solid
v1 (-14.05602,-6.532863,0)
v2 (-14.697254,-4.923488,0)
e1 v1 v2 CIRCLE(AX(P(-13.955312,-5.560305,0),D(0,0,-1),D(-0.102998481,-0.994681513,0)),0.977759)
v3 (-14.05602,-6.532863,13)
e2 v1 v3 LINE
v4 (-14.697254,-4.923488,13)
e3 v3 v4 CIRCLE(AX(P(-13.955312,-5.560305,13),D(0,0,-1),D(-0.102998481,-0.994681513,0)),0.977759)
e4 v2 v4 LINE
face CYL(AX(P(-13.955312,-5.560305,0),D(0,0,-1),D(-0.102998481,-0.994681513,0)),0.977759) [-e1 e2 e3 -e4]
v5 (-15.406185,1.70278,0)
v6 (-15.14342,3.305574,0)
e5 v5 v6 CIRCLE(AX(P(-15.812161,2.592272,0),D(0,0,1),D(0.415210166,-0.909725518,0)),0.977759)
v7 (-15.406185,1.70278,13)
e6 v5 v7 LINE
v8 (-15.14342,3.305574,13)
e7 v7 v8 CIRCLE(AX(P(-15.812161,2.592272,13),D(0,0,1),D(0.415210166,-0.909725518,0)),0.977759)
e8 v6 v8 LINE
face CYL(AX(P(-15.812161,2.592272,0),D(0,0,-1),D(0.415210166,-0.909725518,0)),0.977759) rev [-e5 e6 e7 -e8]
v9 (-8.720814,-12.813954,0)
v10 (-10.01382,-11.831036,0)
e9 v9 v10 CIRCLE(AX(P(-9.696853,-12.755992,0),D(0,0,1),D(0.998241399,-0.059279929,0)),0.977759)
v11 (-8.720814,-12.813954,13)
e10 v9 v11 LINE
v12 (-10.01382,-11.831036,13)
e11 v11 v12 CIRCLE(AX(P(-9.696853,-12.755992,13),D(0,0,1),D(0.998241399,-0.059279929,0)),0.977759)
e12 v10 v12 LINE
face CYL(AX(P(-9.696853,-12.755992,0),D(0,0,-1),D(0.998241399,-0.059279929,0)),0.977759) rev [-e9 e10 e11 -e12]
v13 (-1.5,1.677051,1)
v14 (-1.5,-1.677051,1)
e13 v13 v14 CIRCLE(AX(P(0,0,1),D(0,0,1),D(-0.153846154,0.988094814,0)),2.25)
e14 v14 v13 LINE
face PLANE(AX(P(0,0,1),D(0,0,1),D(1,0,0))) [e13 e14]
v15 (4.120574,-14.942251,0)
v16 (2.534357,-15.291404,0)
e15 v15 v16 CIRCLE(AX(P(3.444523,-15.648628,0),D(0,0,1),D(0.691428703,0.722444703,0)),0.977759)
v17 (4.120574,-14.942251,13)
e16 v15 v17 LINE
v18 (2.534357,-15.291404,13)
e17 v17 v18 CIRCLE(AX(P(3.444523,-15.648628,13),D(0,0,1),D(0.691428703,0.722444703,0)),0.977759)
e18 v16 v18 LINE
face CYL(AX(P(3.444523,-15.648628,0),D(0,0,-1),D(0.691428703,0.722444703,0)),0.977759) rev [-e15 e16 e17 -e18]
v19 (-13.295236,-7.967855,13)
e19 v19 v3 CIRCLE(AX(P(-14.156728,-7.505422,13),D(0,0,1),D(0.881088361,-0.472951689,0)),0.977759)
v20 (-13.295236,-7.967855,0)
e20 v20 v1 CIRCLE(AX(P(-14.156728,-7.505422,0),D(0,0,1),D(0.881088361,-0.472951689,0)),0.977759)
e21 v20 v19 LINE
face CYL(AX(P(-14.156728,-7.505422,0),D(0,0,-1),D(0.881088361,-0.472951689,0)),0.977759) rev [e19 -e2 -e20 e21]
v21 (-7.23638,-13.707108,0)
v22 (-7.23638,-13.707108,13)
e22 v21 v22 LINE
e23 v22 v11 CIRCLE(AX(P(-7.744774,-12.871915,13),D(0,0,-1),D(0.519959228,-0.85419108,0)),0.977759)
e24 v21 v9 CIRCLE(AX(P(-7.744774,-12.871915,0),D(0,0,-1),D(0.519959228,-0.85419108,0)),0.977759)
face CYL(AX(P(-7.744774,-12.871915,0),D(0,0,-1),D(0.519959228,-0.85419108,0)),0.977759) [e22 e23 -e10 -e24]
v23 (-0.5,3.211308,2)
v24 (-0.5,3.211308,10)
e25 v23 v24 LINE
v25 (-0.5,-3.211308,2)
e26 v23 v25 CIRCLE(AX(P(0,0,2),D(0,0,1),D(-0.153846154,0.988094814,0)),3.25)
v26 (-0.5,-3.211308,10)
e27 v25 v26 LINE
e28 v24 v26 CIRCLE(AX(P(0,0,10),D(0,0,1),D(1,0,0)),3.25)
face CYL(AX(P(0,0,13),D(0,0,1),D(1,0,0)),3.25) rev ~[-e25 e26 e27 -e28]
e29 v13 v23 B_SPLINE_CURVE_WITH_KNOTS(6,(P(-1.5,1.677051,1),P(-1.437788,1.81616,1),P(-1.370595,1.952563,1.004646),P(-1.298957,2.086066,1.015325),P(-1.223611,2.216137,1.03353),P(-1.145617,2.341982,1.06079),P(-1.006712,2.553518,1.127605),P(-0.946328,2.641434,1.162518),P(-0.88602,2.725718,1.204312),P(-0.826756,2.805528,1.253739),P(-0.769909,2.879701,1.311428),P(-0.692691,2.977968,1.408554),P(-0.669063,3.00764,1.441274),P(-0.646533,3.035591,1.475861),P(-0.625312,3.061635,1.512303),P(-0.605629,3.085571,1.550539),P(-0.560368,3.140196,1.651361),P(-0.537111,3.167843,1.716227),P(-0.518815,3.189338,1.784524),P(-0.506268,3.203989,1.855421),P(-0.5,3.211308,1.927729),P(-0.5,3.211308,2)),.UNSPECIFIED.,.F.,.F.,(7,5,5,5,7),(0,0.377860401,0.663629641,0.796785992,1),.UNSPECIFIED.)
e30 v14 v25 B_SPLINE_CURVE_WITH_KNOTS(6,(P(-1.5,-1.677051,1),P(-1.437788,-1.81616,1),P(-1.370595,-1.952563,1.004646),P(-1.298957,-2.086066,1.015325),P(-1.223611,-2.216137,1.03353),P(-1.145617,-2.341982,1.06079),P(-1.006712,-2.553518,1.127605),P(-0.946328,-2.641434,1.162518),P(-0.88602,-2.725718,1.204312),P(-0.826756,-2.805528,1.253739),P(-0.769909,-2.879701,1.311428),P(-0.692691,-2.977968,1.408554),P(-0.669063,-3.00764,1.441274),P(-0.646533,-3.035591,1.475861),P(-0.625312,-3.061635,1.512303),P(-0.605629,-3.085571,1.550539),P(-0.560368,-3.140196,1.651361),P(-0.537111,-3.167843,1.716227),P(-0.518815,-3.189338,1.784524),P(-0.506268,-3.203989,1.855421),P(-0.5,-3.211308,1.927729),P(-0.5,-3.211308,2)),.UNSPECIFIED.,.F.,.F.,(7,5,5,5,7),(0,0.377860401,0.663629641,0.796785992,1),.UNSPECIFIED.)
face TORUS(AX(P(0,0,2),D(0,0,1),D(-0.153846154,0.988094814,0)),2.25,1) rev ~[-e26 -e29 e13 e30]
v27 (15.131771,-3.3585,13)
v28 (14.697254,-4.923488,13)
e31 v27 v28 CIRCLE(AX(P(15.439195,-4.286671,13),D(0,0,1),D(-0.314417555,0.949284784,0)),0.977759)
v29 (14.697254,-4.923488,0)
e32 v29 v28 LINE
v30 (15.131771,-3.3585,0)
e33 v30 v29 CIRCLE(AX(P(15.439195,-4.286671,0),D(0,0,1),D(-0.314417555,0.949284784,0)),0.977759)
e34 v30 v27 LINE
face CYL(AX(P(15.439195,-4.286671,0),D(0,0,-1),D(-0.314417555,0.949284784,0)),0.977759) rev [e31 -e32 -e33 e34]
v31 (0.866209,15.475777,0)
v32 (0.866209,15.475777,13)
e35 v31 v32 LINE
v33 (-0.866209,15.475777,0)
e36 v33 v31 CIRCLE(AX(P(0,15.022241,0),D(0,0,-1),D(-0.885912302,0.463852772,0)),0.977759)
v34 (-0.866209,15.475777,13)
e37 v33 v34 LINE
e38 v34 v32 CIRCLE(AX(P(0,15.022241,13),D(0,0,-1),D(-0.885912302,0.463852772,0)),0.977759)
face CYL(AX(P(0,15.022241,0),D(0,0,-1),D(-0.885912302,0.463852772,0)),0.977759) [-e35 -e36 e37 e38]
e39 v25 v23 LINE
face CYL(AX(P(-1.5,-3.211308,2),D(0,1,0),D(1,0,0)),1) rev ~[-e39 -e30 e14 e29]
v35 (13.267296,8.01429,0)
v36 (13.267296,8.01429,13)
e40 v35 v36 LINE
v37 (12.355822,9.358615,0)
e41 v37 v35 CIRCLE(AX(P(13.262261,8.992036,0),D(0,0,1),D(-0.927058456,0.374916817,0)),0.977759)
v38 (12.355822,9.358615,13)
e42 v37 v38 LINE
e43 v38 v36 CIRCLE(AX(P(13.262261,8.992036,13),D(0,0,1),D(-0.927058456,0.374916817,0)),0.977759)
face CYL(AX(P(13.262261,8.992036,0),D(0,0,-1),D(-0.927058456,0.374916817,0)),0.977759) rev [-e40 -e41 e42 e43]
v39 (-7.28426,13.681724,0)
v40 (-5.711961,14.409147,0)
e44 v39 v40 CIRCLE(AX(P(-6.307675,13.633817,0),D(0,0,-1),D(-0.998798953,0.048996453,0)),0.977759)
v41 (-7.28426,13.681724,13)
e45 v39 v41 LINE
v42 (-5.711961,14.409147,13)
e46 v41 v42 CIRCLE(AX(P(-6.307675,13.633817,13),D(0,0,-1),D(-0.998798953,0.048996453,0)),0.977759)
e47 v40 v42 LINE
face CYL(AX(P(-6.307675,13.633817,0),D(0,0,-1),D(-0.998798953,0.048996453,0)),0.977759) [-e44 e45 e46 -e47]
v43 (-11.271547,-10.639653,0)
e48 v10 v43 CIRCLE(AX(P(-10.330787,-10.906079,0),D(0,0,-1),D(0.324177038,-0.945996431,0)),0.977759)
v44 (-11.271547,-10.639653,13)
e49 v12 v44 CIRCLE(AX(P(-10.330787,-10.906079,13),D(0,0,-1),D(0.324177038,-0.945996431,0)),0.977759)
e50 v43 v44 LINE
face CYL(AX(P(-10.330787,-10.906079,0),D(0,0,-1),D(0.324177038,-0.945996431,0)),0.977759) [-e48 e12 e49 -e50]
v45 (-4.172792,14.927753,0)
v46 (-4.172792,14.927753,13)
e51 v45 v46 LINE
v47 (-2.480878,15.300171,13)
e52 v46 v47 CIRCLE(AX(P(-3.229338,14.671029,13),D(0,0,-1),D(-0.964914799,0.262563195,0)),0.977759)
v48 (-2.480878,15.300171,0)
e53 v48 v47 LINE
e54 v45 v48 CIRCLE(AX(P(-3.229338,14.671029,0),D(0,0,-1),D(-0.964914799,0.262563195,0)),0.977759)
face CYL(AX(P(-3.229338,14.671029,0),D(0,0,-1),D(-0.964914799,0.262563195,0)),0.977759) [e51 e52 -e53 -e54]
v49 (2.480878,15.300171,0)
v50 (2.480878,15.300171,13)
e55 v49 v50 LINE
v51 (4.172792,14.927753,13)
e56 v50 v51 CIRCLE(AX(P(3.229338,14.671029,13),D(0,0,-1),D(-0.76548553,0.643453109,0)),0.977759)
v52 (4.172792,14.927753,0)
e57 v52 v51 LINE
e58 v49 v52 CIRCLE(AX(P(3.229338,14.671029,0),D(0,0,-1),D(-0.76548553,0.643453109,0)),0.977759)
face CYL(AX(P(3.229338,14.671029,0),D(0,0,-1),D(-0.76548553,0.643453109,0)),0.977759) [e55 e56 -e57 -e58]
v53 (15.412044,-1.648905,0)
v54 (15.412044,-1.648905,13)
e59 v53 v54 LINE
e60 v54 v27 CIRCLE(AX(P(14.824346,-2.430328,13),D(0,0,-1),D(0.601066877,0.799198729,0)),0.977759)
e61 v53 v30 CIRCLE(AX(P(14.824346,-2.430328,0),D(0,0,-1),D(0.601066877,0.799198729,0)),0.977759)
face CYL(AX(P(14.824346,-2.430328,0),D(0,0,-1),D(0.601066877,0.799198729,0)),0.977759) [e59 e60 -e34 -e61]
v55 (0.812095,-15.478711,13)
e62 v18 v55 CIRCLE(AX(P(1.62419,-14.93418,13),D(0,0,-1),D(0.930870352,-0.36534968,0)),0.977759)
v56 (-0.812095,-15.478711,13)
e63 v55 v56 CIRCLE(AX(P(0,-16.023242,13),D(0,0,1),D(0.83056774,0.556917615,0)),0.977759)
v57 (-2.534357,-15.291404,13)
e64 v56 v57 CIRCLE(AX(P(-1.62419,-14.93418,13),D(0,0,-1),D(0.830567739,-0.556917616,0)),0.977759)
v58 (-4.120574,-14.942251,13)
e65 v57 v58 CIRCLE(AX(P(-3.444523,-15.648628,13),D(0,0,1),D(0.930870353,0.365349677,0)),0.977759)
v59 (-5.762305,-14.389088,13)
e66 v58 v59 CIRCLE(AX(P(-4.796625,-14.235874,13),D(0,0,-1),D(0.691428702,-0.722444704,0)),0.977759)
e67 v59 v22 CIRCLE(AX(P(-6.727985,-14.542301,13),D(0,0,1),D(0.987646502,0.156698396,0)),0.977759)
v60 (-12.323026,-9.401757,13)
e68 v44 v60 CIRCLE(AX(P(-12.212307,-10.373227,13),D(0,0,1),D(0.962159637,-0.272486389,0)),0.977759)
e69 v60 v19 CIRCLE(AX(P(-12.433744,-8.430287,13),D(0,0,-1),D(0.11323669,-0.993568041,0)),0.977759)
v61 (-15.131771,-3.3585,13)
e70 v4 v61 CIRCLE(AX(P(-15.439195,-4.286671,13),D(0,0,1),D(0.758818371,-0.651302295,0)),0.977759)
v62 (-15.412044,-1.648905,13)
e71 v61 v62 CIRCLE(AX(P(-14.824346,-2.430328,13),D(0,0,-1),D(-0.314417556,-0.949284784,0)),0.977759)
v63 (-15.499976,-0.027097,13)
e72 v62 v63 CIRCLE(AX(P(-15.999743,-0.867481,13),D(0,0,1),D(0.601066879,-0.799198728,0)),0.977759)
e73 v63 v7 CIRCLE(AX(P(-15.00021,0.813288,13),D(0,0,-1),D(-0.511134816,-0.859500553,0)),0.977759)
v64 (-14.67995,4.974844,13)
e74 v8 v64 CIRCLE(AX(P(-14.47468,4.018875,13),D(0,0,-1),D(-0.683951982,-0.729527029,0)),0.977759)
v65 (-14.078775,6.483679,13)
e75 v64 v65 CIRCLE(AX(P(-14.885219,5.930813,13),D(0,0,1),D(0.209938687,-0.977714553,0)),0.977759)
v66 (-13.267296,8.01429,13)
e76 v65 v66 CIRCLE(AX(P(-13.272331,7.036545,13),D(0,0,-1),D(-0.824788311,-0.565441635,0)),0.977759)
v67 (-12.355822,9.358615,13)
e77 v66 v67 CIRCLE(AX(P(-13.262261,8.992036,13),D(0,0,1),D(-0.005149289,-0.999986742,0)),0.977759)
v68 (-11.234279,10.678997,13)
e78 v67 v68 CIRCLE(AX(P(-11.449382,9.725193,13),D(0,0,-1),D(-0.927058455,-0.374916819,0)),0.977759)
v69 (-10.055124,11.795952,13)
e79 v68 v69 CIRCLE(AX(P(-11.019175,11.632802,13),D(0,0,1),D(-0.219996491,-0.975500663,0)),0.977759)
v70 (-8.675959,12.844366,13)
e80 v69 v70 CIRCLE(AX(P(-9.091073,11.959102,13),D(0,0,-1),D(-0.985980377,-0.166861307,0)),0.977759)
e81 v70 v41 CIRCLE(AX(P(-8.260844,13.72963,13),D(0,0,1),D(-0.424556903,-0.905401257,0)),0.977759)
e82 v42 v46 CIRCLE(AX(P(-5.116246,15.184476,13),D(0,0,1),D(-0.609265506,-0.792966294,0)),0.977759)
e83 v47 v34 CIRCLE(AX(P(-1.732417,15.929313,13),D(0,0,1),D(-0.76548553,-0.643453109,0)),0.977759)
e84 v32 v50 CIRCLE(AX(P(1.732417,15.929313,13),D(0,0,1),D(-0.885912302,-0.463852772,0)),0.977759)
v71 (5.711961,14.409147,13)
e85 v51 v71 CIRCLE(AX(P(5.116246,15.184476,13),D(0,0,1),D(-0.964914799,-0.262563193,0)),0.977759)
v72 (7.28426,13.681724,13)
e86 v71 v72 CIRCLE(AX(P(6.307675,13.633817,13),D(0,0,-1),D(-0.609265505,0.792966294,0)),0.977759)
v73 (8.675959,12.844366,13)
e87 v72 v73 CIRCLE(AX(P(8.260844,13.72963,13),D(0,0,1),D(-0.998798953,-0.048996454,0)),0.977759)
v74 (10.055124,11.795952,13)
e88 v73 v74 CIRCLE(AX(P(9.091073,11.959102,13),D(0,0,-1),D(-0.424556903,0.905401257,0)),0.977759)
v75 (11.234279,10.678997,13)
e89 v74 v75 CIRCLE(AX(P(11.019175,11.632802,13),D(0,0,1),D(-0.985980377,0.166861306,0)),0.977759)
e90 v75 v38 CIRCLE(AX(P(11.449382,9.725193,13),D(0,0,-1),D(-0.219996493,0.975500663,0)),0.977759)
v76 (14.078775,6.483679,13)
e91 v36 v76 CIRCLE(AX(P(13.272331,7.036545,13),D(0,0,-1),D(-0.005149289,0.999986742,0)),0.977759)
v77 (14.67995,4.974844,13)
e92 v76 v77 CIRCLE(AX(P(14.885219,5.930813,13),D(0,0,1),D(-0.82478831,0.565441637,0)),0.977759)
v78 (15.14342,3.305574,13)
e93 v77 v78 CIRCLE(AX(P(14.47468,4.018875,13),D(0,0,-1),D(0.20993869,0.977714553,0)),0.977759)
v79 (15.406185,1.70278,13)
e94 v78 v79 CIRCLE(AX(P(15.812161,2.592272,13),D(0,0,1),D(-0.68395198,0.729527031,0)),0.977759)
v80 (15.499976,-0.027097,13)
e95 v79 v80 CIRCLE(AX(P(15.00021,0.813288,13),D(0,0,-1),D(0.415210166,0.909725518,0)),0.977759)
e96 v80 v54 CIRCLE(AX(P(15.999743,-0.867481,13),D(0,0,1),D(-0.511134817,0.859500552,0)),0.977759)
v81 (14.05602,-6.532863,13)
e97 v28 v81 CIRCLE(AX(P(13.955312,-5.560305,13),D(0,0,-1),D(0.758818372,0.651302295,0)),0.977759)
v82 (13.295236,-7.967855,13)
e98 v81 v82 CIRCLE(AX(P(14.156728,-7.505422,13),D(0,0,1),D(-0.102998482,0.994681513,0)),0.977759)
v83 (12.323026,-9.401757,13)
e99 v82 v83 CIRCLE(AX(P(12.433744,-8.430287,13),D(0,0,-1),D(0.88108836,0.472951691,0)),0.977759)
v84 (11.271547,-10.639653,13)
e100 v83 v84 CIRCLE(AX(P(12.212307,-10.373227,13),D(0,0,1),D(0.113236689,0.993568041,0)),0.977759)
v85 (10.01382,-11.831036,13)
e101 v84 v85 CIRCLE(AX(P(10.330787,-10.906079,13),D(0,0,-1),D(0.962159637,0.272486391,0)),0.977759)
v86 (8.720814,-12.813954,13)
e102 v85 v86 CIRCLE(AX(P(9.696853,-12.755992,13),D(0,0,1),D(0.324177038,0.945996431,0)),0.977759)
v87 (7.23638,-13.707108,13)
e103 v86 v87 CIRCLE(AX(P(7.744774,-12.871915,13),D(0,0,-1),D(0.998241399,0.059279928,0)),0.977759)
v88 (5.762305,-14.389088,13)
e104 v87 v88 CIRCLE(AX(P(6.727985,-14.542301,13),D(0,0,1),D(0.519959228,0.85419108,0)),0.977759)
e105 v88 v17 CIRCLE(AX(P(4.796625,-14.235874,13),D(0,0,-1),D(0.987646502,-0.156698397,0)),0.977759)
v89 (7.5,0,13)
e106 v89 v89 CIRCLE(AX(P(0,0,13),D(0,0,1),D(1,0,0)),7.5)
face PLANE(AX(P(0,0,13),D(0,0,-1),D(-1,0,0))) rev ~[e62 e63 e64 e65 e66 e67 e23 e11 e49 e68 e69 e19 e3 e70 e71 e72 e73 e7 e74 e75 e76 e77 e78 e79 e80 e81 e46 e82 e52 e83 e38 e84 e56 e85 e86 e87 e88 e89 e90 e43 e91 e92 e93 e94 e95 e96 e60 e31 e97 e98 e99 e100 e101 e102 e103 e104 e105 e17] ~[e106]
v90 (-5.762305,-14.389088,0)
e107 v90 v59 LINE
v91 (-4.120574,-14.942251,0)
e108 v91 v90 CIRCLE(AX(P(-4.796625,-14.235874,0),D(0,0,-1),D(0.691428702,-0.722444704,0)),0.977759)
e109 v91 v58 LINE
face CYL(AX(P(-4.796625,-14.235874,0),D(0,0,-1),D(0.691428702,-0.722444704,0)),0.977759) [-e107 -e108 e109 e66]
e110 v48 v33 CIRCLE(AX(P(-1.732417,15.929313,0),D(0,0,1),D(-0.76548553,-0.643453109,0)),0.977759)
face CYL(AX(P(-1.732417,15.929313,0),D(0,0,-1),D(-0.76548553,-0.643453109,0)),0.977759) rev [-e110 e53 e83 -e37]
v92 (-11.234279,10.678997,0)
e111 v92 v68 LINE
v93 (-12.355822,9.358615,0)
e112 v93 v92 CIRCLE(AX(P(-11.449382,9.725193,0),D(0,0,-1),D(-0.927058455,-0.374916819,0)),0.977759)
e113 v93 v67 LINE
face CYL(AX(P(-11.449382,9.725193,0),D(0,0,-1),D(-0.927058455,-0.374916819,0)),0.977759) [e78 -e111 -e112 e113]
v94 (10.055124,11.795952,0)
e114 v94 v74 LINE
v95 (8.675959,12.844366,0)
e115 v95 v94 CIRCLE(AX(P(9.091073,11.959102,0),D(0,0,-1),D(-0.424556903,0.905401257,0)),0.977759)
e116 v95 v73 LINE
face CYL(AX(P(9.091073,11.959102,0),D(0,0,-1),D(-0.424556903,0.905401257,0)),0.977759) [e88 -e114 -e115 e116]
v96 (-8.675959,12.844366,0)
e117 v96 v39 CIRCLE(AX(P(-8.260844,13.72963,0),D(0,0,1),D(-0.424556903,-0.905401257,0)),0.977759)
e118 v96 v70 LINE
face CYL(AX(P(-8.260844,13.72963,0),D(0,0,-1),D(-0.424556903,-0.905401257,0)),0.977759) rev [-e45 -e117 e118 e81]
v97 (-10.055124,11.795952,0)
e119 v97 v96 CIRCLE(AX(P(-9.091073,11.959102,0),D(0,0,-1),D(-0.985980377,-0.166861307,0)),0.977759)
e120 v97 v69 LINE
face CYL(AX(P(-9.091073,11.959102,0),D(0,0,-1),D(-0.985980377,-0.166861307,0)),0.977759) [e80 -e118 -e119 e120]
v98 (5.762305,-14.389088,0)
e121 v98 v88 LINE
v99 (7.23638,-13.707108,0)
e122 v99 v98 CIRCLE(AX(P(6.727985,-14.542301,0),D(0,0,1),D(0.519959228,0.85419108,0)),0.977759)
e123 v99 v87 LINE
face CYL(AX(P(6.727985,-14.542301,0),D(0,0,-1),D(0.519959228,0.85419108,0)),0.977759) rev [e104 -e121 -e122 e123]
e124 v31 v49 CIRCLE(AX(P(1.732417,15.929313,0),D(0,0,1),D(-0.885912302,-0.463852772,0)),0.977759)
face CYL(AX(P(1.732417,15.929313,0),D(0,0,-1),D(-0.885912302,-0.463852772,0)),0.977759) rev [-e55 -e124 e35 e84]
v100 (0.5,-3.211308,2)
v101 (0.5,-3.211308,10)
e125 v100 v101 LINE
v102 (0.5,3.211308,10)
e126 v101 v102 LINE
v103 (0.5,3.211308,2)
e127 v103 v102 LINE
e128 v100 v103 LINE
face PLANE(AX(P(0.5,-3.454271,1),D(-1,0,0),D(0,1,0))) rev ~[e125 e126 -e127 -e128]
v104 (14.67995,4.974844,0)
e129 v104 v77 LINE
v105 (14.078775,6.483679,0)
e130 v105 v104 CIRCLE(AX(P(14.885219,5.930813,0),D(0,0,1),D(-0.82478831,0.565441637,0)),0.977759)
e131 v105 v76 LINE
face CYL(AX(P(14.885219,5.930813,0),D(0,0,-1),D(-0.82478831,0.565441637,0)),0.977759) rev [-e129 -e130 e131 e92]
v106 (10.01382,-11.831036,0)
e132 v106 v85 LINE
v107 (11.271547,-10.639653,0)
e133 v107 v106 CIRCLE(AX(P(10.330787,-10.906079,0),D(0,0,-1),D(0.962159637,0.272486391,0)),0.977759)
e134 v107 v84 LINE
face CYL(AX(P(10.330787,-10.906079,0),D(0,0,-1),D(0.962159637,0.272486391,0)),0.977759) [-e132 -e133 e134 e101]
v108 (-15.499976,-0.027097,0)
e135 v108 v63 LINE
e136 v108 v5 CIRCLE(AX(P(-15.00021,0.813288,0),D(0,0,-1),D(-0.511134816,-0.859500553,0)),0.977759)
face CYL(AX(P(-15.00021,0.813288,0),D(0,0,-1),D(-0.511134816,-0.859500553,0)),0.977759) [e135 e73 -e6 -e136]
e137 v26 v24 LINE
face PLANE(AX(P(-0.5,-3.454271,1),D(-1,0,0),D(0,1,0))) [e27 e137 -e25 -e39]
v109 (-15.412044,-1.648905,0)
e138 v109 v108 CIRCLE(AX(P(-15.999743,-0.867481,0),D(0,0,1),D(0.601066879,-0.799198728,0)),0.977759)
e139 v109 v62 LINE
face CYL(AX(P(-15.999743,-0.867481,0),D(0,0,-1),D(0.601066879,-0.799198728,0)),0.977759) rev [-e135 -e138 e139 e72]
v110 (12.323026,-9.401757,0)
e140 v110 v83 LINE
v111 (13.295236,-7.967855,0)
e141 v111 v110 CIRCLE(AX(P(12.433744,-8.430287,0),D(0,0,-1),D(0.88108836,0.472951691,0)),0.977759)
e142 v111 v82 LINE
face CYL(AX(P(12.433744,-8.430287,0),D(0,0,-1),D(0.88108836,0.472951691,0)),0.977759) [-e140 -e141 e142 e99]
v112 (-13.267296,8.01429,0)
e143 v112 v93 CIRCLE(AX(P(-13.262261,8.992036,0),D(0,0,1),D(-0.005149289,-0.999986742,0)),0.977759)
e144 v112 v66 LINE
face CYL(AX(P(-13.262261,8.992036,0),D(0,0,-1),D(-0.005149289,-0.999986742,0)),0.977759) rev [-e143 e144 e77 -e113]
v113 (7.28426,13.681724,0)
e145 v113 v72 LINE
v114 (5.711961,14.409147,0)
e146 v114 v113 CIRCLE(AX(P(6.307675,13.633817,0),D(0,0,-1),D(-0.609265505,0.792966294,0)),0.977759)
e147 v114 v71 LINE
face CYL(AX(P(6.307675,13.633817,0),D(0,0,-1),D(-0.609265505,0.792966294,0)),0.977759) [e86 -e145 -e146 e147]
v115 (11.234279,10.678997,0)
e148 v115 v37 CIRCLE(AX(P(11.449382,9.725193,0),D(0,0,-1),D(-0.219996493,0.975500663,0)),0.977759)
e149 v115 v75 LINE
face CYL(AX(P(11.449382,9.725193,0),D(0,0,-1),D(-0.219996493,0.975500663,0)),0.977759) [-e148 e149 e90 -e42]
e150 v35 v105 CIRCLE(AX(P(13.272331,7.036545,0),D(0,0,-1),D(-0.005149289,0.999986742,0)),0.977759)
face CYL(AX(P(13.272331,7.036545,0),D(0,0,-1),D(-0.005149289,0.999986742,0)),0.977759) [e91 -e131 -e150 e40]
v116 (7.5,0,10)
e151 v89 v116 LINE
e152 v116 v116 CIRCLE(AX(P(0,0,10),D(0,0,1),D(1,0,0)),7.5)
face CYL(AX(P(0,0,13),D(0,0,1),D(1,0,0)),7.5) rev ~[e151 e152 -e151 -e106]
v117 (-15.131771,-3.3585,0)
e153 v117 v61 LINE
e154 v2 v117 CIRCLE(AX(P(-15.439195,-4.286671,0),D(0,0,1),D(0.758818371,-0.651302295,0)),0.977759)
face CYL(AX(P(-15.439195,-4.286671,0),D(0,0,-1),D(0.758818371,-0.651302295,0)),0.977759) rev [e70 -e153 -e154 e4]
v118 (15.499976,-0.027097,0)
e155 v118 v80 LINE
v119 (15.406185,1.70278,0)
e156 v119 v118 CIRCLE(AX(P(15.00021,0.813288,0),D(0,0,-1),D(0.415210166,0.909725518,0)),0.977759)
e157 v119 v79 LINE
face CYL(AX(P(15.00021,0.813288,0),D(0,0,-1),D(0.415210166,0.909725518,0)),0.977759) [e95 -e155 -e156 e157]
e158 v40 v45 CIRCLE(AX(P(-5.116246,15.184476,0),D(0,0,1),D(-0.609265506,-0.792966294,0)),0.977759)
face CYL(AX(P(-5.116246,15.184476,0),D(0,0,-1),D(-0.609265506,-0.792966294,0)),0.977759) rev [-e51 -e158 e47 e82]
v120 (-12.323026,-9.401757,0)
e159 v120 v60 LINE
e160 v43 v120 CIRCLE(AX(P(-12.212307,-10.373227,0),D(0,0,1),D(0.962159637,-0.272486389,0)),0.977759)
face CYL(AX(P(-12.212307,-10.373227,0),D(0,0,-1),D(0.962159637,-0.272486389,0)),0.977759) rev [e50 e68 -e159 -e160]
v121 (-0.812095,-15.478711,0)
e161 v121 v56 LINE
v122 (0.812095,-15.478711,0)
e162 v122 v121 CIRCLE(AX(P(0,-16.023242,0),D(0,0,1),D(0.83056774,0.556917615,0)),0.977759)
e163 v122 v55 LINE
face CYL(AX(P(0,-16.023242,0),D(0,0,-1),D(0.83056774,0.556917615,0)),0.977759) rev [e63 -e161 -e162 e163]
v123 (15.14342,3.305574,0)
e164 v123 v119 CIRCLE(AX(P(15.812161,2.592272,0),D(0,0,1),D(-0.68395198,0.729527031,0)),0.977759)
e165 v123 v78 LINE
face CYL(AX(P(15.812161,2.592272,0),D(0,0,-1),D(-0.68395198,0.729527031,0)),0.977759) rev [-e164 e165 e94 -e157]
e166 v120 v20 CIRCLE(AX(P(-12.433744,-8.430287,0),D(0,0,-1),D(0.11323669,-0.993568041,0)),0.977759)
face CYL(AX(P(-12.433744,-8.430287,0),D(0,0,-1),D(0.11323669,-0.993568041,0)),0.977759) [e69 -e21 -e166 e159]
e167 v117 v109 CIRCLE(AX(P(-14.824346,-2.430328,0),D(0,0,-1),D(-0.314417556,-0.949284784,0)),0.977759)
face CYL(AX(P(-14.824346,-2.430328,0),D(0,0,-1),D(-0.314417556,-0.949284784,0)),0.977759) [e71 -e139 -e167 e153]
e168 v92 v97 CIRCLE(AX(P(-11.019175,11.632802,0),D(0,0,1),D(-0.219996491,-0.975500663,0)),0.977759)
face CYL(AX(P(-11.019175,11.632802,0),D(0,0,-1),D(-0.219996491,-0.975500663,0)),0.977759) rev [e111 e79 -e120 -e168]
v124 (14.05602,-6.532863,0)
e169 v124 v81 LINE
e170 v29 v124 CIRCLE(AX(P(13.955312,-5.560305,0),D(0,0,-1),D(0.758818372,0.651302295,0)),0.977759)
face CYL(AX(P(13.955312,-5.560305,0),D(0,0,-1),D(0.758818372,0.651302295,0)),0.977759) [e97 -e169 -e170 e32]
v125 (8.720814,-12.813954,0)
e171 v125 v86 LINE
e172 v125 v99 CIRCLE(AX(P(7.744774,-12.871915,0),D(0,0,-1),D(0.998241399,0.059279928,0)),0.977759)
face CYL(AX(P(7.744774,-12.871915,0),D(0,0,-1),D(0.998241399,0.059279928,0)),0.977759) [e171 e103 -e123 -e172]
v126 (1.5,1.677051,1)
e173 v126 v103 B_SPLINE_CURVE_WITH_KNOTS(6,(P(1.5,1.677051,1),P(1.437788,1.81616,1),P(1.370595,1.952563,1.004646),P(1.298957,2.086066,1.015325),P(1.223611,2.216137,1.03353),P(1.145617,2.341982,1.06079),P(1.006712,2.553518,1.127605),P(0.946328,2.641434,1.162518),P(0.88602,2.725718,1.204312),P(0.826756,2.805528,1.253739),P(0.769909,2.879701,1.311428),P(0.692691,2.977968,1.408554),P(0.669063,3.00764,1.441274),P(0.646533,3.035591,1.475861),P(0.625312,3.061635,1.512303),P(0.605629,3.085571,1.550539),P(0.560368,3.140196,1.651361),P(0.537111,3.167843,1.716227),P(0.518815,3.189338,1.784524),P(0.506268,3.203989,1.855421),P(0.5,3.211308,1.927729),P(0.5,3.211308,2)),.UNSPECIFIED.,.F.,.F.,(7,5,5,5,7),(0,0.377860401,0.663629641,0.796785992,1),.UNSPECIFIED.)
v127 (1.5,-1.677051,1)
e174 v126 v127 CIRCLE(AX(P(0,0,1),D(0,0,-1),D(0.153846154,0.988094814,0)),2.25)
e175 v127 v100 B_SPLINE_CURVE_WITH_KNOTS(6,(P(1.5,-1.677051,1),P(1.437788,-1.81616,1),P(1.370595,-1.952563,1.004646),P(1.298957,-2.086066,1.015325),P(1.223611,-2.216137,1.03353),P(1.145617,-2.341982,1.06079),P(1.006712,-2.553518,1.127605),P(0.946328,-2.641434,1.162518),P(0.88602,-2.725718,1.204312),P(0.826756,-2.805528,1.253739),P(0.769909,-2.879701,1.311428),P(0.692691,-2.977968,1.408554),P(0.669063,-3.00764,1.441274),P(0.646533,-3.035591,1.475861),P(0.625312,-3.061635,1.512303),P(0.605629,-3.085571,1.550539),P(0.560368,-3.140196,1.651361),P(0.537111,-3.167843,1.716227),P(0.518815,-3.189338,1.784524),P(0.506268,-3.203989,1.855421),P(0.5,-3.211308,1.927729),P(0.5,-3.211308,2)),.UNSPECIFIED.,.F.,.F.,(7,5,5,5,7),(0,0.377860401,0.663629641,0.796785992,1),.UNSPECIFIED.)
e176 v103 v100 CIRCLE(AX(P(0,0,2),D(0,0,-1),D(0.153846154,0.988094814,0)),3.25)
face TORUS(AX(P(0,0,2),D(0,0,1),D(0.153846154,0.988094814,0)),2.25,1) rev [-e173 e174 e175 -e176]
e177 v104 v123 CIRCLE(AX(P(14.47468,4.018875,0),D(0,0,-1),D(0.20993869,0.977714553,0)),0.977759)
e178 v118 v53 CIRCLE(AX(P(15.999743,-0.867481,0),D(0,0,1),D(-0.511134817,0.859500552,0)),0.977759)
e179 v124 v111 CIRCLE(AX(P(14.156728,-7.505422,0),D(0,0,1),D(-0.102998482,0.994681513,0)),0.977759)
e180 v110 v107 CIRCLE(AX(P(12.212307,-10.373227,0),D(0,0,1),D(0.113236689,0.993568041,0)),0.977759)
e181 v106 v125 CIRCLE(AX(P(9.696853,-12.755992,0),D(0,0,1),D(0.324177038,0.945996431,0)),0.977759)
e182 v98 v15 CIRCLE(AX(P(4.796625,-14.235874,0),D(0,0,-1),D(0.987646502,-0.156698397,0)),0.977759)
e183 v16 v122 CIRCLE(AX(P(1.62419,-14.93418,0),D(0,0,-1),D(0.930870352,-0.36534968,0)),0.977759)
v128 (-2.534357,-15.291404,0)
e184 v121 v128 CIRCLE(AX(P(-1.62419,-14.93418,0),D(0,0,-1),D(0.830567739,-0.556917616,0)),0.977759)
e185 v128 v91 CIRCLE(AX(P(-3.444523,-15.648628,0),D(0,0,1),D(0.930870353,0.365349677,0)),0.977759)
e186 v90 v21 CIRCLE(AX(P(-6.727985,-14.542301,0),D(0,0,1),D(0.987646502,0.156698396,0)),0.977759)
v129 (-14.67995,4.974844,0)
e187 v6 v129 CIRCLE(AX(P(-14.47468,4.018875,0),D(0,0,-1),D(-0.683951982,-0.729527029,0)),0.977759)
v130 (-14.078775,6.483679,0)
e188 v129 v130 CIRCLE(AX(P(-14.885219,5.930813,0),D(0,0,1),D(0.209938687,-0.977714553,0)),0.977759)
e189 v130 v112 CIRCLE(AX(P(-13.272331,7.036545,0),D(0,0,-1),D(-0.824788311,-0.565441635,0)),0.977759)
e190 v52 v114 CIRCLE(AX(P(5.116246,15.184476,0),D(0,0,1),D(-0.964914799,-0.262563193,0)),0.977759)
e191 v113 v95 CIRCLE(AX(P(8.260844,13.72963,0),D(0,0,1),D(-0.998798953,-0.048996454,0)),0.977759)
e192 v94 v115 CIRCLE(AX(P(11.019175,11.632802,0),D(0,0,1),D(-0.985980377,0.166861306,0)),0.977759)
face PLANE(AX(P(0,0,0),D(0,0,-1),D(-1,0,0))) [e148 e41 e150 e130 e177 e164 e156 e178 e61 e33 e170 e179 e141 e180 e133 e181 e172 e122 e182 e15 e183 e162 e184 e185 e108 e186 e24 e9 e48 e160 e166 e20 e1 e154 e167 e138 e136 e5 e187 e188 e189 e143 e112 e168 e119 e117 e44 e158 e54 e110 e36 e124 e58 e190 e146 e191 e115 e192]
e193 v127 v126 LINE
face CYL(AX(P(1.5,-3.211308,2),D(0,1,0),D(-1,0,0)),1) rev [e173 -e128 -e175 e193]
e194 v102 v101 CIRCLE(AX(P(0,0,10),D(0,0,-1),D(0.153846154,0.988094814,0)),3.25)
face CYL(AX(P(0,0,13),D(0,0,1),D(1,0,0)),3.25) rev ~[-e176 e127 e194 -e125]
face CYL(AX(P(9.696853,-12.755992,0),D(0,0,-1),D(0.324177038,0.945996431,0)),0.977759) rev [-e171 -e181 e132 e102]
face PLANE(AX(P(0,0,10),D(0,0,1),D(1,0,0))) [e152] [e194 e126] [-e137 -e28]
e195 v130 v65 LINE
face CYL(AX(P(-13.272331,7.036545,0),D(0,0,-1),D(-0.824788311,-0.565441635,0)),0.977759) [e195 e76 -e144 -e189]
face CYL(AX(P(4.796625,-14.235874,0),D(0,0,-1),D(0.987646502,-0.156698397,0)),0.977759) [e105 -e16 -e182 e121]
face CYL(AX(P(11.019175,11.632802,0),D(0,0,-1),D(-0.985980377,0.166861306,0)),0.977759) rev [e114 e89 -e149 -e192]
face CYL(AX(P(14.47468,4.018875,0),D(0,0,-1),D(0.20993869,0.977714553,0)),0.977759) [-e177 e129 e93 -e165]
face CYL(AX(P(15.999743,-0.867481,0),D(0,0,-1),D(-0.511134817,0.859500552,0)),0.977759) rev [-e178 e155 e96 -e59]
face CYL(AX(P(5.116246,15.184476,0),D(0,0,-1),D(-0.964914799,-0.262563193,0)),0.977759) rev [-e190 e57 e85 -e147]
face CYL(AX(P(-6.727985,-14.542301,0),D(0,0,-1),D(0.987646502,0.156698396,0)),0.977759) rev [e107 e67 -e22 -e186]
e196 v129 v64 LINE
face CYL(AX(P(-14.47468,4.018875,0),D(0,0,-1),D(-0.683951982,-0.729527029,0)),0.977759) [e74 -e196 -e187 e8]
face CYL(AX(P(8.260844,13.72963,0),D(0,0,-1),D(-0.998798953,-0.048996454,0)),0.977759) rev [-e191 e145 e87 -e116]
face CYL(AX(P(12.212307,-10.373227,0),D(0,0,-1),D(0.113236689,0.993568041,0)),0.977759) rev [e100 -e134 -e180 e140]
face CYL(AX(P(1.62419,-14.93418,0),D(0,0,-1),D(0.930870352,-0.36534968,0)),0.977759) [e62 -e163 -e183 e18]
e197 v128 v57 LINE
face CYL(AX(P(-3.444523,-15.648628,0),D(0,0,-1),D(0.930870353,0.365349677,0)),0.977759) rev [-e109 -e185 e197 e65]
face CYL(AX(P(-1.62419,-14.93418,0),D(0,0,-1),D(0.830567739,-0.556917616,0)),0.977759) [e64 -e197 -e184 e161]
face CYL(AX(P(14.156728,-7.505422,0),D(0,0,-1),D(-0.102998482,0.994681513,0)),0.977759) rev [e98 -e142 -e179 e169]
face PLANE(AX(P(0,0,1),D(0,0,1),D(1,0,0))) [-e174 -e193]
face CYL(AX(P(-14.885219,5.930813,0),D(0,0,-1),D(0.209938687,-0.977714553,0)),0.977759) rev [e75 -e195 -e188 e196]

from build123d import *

# Parameters (mm, degrees)
BOSS_EXTRUDE1_DEPTH = 13
SKETCH4_R           = 3.25
CUT_EXTRUDE1_DEPTH  = 12
SKETCH5_R           = 7.5
CUT_EXTRUDE2_DEPTH  = 3
SKETCH6_W           = 1
SKETCH6_H           = 6.908542988
BOSS_EXTRUDE4_DEPTH = 9
FILLET1_R           = 1


with BuildPart() as part:
    # Sketch1 → Boss-Extrude1 (new body)
    with BuildSketch(Plane.XY):
        with BuildLine():
            ThreePointArc((-0.866208619, 15.475777287), (0, 16), (0.866208619, 15.475777287))
            ThreePointArc((0.866208619, 15.475777287), (1.626702908, 14.957286238), (2.480877513, 15.300171462))
            ThreePointArc((2.480877513, 15.300171462), (3.439527043, 15.625928891), (4.172791799, 14.927752966))
            ThreePointArc((4.172791799, 14.927752966), (4.804045905, 14.257900157), (5.71196057, 14.409146625))
            ThreePointArc((5.71196057, 14.409146625), (6.718225625, 14.521206715), (7.284259872, 13.681723507))
            ThreePointArc((7.284259872, 13.681723507), (7.756757055, 12.891830512), (8.675958699, 12.844366106))
            ThreePointArc((8.675958699, 12.844366106), (9.682787443, 12.737489051), (10.055124049, 11.795951863))
            ThreePointArc((10.055124049, 11.795951863), (10.346770866, 10.9229532), (11.234278642, 10.678997303))
            ThreePointArc((11.234278642, 10.678997303), (12.194592882, 10.358180557), (12.355821801, 9.35861462))
            ThreePointArc((12.355821801, 9.35861462), (12.452981171, 8.443330736), (13.267296201, 8.014290456))
            ThreePointArc((13.267296201, 8.014290456), (14.136192711, 7.494535051), (14.078775059, 6.483678959))
            ThreePointArc((14.078775059, 6.483678959), (13.976903916, 5.568907511), (14.679949736, 4.974844294))
            ThreePointArc((14.679949736, 4.974844294), (15.41679988, 4.280453416), (15.143420442, 3.305573676))
            ThreePointArc((15.143420442, 3.305573676), (14.847282169, 2.434088361), (15.406185137, 1.702779942))
            ThreePointArc((15.406185137, 1.702779942), (15.976534622, 0.866222537), (15.499976315, -0.027096558))
            ThreePointArc((15.499976315, -0.027096558), (15.023418009, -0.814546056), (15.412044443, -1.648904508))
            ThreePointArc((15.412044443, -1.648904508), (15.789224361, -2.588511945), (15.131770524, -3.358499787))
            ThreePointArc((15.131770524, -3.358499787), (14.49707552, -4.025093205), (14.697253681, -4.923488015))
            ThreePointArc((14.697253681, -4.923488015), (14.863627517, -5.922210485), (14.05601996, -6.532863299))
            ThreePointArc((14.05601996, -6.532863299), (13.292865893, -7.047431469), (13.295235671, -7.967854695))
            ThreePointArc((13.295235671, -7.967854695), (13.243023971, -8.978993046), (12.323025525, -9.401757384))
            ThreePointArc((12.323025525, -9.401757384), (11.46709663, -9.74023967), (11.271547218, -10.639653345))
            ThreePointArc((11.271547218, -10.639653345), (11.003191342, -11.615927871), (10.013820113, -11.831035743))
            ThreePointArc((10.013820113, -11.831035743), (9.105138673, -11.97760509), (8.720813745, -12.81395363))
            ThreePointArc((8.720813745, -12.81395363), (8.248861715, -13.709714819), (7.236379601, -13.70710802))
            ThreePointArc((7.236379601, -13.70710802), (6.317434552, -13.654911008), (5.762304713, -14.389087685))
            ThreePointArc((5.762304713, -14.389087685), (5.108824482, -15.162450739), (4.120574023, -14.94225116))
            ThreePointArc((4.120574023, -14.94225116), (3.234334213, -14.693728463), (2.534356717, -15.291403992))
            ThreePointArc((2.534356717, -15.291403992), (1.729904295, -15.906207314), (0.812094982, -15.478711243))
            ThreePointArc((0.812094982, -15.478711243), (0, -15.045483507), (-0.812094982, -15.478711243))
            ThreePointArc((-0.812094982, -15.478711243), (-1.729904295, -15.906207314), (-2.534356717, -15.291403992))
            ThreePointArc((-2.534356717, -15.291403992), (-3.234334213, -14.693728463), (-4.120574023, -14.94225116))
            ThreePointArc((-4.120574023, -14.94225116), (-5.108824482, -15.162450739), (-5.762304713, -14.389087685))
            ThreePointArc((-5.762304713, -14.389087685), (-6.317434552, -13.654911008), (-7.236379601, -13.70710802))
            ThreePointArc((-7.236379601, -13.70710802), (-8.248861715, -13.709714819), (-8.720813745, -12.81395363))
            ThreePointArc((-8.720813745, -12.81395363), (-9.105138673, -11.97760509), (-10.013820113, -11.831035743))
            ThreePointArc((-10.013820113, -11.831035743), (-11.003191342, -11.615927871), (-11.271547218, -10.639653345))
            ThreePointArc((-11.271547218, -10.639653345), (-11.46709663, -9.74023967), (-12.323025525, -9.401757384))
            ThreePointArc((-12.323025525, -9.401757384), (-13.243023971, -8.978993046), (-13.295235671, -7.967854695))
            ThreePointArc((-13.295235671, -7.967854695), (-13.292865893, -7.047431469), (-14.05601996, -6.532863299))
            ThreePointArc((-14.05601996, -6.532863299), (-14.863627517, -5.922210485), (-14.697253681, -4.923488015))
            ThreePointArc((-14.697253681, -4.923488015), (-14.49707552, -4.025093205), (-15.131770524, -3.358499787))
            ThreePointArc((-15.131770524, -3.358499787), (-15.789224361, -2.588511945), (-15.412044443, -1.648904508))
            ThreePointArc((-15.412044443, -1.648904508), (-15.023418009, -0.814546056), (-15.499976315, -0.027096558))
            ThreePointArc((-15.499976315, -0.027096558), (-15.976534622, 0.866222537), (-15.406185137, 1.702779942))
            ThreePointArc((-15.406185137, 1.702779942), (-14.847282169, 2.434088361), (-15.143420442, 3.305573676))
            ThreePointArc((-15.143420442, 3.305573676), (-15.41679988, 4.280453416), (-14.679949736, 4.974844294))
            ThreePointArc((-14.679949736, 4.974844294), (-13.976903916, 5.568907511), (-14.078775059, 6.483678959))
            ThreePointArc((-14.078775059, 6.483678959), (-14.136192711, 7.494535051), (-13.267296201, 8.014290456))
            ThreePointArc((-13.267296201, 8.014290456), (-12.452981171, 8.443330736), (-12.355821801, 9.35861462))
            ThreePointArc((-12.355821801, 9.35861462), (-12.194592882, 10.358180557), (-11.234278642, 10.678997303))
            ThreePointArc((-11.234278642, 10.678997303), (-10.346770866, 10.9229532), (-10.055124049, 11.795951863))
            ThreePointArc((-10.055124049, 11.795951863), (-9.682787443, 12.737489051), (-8.675958699, 12.844366106))
            ThreePointArc((-8.675958699, 12.844366106), (-7.756757055, 12.891830512), (-7.284259872, 13.681723507))
            ThreePointArc((-7.284259872, 13.681723507), (-6.718225625, 14.521206715), (-5.71196057, 14.409146625))
            ThreePointArc((-5.71196057, 14.409146625), (-4.804045905, 14.257900157), (-4.172791799, 14.927752966))
            ThreePointArc((-4.172791799, 14.927752966), (-3.439527043, 15.625928891), (-2.480877513, 15.300171462))
            ThreePointArc((-2.480877513, 15.300171462), (-1.626702908, 14.957286238), (-0.866208619, 15.475777287))
        make_face()
    extrude(amount=BOSS_EXTRUDE1_DEPTH)

    # Sketch4 → Cut-Extrude1 (cut)
    with BuildSketch(Plane.XY.offset(13)):
        Circle(SKETCH4_R)
    extrude(amount=-CUT_EXTRUDE1_DEPTH, mode=Mode.SUBTRACT)

    # Sketch5 → Cut-Extrude2 (cut)
    with BuildSketch(Plane.XY.offset(13)):
        Circle(SKETCH5_R)
    extrude(amount=-CUT_EXTRUDE2_DEPTH, mode=Mode.SUBTRACT)

    # Sketch6 → Boss-Extrude4 (add)
    with BuildSketch(Plane.XY.offset(1)):
        Rectangle(SKETCH6_W, SKETCH6_H)
    extrude(amount=BOSS_EXTRUDE4_DEPTH)

    # Fillet1
    fillet1_edges = [part.edges().sort_by_distance(p)[0] for p in [
        (-3.25, 0, 1),
        (3.25, 0, 1),
        (0.5, 0, 1),
        (-0.5, 0, 1),
    ]]
    fillet(fillet1_edges, radius=FILLET1_R)


solid = part.part
